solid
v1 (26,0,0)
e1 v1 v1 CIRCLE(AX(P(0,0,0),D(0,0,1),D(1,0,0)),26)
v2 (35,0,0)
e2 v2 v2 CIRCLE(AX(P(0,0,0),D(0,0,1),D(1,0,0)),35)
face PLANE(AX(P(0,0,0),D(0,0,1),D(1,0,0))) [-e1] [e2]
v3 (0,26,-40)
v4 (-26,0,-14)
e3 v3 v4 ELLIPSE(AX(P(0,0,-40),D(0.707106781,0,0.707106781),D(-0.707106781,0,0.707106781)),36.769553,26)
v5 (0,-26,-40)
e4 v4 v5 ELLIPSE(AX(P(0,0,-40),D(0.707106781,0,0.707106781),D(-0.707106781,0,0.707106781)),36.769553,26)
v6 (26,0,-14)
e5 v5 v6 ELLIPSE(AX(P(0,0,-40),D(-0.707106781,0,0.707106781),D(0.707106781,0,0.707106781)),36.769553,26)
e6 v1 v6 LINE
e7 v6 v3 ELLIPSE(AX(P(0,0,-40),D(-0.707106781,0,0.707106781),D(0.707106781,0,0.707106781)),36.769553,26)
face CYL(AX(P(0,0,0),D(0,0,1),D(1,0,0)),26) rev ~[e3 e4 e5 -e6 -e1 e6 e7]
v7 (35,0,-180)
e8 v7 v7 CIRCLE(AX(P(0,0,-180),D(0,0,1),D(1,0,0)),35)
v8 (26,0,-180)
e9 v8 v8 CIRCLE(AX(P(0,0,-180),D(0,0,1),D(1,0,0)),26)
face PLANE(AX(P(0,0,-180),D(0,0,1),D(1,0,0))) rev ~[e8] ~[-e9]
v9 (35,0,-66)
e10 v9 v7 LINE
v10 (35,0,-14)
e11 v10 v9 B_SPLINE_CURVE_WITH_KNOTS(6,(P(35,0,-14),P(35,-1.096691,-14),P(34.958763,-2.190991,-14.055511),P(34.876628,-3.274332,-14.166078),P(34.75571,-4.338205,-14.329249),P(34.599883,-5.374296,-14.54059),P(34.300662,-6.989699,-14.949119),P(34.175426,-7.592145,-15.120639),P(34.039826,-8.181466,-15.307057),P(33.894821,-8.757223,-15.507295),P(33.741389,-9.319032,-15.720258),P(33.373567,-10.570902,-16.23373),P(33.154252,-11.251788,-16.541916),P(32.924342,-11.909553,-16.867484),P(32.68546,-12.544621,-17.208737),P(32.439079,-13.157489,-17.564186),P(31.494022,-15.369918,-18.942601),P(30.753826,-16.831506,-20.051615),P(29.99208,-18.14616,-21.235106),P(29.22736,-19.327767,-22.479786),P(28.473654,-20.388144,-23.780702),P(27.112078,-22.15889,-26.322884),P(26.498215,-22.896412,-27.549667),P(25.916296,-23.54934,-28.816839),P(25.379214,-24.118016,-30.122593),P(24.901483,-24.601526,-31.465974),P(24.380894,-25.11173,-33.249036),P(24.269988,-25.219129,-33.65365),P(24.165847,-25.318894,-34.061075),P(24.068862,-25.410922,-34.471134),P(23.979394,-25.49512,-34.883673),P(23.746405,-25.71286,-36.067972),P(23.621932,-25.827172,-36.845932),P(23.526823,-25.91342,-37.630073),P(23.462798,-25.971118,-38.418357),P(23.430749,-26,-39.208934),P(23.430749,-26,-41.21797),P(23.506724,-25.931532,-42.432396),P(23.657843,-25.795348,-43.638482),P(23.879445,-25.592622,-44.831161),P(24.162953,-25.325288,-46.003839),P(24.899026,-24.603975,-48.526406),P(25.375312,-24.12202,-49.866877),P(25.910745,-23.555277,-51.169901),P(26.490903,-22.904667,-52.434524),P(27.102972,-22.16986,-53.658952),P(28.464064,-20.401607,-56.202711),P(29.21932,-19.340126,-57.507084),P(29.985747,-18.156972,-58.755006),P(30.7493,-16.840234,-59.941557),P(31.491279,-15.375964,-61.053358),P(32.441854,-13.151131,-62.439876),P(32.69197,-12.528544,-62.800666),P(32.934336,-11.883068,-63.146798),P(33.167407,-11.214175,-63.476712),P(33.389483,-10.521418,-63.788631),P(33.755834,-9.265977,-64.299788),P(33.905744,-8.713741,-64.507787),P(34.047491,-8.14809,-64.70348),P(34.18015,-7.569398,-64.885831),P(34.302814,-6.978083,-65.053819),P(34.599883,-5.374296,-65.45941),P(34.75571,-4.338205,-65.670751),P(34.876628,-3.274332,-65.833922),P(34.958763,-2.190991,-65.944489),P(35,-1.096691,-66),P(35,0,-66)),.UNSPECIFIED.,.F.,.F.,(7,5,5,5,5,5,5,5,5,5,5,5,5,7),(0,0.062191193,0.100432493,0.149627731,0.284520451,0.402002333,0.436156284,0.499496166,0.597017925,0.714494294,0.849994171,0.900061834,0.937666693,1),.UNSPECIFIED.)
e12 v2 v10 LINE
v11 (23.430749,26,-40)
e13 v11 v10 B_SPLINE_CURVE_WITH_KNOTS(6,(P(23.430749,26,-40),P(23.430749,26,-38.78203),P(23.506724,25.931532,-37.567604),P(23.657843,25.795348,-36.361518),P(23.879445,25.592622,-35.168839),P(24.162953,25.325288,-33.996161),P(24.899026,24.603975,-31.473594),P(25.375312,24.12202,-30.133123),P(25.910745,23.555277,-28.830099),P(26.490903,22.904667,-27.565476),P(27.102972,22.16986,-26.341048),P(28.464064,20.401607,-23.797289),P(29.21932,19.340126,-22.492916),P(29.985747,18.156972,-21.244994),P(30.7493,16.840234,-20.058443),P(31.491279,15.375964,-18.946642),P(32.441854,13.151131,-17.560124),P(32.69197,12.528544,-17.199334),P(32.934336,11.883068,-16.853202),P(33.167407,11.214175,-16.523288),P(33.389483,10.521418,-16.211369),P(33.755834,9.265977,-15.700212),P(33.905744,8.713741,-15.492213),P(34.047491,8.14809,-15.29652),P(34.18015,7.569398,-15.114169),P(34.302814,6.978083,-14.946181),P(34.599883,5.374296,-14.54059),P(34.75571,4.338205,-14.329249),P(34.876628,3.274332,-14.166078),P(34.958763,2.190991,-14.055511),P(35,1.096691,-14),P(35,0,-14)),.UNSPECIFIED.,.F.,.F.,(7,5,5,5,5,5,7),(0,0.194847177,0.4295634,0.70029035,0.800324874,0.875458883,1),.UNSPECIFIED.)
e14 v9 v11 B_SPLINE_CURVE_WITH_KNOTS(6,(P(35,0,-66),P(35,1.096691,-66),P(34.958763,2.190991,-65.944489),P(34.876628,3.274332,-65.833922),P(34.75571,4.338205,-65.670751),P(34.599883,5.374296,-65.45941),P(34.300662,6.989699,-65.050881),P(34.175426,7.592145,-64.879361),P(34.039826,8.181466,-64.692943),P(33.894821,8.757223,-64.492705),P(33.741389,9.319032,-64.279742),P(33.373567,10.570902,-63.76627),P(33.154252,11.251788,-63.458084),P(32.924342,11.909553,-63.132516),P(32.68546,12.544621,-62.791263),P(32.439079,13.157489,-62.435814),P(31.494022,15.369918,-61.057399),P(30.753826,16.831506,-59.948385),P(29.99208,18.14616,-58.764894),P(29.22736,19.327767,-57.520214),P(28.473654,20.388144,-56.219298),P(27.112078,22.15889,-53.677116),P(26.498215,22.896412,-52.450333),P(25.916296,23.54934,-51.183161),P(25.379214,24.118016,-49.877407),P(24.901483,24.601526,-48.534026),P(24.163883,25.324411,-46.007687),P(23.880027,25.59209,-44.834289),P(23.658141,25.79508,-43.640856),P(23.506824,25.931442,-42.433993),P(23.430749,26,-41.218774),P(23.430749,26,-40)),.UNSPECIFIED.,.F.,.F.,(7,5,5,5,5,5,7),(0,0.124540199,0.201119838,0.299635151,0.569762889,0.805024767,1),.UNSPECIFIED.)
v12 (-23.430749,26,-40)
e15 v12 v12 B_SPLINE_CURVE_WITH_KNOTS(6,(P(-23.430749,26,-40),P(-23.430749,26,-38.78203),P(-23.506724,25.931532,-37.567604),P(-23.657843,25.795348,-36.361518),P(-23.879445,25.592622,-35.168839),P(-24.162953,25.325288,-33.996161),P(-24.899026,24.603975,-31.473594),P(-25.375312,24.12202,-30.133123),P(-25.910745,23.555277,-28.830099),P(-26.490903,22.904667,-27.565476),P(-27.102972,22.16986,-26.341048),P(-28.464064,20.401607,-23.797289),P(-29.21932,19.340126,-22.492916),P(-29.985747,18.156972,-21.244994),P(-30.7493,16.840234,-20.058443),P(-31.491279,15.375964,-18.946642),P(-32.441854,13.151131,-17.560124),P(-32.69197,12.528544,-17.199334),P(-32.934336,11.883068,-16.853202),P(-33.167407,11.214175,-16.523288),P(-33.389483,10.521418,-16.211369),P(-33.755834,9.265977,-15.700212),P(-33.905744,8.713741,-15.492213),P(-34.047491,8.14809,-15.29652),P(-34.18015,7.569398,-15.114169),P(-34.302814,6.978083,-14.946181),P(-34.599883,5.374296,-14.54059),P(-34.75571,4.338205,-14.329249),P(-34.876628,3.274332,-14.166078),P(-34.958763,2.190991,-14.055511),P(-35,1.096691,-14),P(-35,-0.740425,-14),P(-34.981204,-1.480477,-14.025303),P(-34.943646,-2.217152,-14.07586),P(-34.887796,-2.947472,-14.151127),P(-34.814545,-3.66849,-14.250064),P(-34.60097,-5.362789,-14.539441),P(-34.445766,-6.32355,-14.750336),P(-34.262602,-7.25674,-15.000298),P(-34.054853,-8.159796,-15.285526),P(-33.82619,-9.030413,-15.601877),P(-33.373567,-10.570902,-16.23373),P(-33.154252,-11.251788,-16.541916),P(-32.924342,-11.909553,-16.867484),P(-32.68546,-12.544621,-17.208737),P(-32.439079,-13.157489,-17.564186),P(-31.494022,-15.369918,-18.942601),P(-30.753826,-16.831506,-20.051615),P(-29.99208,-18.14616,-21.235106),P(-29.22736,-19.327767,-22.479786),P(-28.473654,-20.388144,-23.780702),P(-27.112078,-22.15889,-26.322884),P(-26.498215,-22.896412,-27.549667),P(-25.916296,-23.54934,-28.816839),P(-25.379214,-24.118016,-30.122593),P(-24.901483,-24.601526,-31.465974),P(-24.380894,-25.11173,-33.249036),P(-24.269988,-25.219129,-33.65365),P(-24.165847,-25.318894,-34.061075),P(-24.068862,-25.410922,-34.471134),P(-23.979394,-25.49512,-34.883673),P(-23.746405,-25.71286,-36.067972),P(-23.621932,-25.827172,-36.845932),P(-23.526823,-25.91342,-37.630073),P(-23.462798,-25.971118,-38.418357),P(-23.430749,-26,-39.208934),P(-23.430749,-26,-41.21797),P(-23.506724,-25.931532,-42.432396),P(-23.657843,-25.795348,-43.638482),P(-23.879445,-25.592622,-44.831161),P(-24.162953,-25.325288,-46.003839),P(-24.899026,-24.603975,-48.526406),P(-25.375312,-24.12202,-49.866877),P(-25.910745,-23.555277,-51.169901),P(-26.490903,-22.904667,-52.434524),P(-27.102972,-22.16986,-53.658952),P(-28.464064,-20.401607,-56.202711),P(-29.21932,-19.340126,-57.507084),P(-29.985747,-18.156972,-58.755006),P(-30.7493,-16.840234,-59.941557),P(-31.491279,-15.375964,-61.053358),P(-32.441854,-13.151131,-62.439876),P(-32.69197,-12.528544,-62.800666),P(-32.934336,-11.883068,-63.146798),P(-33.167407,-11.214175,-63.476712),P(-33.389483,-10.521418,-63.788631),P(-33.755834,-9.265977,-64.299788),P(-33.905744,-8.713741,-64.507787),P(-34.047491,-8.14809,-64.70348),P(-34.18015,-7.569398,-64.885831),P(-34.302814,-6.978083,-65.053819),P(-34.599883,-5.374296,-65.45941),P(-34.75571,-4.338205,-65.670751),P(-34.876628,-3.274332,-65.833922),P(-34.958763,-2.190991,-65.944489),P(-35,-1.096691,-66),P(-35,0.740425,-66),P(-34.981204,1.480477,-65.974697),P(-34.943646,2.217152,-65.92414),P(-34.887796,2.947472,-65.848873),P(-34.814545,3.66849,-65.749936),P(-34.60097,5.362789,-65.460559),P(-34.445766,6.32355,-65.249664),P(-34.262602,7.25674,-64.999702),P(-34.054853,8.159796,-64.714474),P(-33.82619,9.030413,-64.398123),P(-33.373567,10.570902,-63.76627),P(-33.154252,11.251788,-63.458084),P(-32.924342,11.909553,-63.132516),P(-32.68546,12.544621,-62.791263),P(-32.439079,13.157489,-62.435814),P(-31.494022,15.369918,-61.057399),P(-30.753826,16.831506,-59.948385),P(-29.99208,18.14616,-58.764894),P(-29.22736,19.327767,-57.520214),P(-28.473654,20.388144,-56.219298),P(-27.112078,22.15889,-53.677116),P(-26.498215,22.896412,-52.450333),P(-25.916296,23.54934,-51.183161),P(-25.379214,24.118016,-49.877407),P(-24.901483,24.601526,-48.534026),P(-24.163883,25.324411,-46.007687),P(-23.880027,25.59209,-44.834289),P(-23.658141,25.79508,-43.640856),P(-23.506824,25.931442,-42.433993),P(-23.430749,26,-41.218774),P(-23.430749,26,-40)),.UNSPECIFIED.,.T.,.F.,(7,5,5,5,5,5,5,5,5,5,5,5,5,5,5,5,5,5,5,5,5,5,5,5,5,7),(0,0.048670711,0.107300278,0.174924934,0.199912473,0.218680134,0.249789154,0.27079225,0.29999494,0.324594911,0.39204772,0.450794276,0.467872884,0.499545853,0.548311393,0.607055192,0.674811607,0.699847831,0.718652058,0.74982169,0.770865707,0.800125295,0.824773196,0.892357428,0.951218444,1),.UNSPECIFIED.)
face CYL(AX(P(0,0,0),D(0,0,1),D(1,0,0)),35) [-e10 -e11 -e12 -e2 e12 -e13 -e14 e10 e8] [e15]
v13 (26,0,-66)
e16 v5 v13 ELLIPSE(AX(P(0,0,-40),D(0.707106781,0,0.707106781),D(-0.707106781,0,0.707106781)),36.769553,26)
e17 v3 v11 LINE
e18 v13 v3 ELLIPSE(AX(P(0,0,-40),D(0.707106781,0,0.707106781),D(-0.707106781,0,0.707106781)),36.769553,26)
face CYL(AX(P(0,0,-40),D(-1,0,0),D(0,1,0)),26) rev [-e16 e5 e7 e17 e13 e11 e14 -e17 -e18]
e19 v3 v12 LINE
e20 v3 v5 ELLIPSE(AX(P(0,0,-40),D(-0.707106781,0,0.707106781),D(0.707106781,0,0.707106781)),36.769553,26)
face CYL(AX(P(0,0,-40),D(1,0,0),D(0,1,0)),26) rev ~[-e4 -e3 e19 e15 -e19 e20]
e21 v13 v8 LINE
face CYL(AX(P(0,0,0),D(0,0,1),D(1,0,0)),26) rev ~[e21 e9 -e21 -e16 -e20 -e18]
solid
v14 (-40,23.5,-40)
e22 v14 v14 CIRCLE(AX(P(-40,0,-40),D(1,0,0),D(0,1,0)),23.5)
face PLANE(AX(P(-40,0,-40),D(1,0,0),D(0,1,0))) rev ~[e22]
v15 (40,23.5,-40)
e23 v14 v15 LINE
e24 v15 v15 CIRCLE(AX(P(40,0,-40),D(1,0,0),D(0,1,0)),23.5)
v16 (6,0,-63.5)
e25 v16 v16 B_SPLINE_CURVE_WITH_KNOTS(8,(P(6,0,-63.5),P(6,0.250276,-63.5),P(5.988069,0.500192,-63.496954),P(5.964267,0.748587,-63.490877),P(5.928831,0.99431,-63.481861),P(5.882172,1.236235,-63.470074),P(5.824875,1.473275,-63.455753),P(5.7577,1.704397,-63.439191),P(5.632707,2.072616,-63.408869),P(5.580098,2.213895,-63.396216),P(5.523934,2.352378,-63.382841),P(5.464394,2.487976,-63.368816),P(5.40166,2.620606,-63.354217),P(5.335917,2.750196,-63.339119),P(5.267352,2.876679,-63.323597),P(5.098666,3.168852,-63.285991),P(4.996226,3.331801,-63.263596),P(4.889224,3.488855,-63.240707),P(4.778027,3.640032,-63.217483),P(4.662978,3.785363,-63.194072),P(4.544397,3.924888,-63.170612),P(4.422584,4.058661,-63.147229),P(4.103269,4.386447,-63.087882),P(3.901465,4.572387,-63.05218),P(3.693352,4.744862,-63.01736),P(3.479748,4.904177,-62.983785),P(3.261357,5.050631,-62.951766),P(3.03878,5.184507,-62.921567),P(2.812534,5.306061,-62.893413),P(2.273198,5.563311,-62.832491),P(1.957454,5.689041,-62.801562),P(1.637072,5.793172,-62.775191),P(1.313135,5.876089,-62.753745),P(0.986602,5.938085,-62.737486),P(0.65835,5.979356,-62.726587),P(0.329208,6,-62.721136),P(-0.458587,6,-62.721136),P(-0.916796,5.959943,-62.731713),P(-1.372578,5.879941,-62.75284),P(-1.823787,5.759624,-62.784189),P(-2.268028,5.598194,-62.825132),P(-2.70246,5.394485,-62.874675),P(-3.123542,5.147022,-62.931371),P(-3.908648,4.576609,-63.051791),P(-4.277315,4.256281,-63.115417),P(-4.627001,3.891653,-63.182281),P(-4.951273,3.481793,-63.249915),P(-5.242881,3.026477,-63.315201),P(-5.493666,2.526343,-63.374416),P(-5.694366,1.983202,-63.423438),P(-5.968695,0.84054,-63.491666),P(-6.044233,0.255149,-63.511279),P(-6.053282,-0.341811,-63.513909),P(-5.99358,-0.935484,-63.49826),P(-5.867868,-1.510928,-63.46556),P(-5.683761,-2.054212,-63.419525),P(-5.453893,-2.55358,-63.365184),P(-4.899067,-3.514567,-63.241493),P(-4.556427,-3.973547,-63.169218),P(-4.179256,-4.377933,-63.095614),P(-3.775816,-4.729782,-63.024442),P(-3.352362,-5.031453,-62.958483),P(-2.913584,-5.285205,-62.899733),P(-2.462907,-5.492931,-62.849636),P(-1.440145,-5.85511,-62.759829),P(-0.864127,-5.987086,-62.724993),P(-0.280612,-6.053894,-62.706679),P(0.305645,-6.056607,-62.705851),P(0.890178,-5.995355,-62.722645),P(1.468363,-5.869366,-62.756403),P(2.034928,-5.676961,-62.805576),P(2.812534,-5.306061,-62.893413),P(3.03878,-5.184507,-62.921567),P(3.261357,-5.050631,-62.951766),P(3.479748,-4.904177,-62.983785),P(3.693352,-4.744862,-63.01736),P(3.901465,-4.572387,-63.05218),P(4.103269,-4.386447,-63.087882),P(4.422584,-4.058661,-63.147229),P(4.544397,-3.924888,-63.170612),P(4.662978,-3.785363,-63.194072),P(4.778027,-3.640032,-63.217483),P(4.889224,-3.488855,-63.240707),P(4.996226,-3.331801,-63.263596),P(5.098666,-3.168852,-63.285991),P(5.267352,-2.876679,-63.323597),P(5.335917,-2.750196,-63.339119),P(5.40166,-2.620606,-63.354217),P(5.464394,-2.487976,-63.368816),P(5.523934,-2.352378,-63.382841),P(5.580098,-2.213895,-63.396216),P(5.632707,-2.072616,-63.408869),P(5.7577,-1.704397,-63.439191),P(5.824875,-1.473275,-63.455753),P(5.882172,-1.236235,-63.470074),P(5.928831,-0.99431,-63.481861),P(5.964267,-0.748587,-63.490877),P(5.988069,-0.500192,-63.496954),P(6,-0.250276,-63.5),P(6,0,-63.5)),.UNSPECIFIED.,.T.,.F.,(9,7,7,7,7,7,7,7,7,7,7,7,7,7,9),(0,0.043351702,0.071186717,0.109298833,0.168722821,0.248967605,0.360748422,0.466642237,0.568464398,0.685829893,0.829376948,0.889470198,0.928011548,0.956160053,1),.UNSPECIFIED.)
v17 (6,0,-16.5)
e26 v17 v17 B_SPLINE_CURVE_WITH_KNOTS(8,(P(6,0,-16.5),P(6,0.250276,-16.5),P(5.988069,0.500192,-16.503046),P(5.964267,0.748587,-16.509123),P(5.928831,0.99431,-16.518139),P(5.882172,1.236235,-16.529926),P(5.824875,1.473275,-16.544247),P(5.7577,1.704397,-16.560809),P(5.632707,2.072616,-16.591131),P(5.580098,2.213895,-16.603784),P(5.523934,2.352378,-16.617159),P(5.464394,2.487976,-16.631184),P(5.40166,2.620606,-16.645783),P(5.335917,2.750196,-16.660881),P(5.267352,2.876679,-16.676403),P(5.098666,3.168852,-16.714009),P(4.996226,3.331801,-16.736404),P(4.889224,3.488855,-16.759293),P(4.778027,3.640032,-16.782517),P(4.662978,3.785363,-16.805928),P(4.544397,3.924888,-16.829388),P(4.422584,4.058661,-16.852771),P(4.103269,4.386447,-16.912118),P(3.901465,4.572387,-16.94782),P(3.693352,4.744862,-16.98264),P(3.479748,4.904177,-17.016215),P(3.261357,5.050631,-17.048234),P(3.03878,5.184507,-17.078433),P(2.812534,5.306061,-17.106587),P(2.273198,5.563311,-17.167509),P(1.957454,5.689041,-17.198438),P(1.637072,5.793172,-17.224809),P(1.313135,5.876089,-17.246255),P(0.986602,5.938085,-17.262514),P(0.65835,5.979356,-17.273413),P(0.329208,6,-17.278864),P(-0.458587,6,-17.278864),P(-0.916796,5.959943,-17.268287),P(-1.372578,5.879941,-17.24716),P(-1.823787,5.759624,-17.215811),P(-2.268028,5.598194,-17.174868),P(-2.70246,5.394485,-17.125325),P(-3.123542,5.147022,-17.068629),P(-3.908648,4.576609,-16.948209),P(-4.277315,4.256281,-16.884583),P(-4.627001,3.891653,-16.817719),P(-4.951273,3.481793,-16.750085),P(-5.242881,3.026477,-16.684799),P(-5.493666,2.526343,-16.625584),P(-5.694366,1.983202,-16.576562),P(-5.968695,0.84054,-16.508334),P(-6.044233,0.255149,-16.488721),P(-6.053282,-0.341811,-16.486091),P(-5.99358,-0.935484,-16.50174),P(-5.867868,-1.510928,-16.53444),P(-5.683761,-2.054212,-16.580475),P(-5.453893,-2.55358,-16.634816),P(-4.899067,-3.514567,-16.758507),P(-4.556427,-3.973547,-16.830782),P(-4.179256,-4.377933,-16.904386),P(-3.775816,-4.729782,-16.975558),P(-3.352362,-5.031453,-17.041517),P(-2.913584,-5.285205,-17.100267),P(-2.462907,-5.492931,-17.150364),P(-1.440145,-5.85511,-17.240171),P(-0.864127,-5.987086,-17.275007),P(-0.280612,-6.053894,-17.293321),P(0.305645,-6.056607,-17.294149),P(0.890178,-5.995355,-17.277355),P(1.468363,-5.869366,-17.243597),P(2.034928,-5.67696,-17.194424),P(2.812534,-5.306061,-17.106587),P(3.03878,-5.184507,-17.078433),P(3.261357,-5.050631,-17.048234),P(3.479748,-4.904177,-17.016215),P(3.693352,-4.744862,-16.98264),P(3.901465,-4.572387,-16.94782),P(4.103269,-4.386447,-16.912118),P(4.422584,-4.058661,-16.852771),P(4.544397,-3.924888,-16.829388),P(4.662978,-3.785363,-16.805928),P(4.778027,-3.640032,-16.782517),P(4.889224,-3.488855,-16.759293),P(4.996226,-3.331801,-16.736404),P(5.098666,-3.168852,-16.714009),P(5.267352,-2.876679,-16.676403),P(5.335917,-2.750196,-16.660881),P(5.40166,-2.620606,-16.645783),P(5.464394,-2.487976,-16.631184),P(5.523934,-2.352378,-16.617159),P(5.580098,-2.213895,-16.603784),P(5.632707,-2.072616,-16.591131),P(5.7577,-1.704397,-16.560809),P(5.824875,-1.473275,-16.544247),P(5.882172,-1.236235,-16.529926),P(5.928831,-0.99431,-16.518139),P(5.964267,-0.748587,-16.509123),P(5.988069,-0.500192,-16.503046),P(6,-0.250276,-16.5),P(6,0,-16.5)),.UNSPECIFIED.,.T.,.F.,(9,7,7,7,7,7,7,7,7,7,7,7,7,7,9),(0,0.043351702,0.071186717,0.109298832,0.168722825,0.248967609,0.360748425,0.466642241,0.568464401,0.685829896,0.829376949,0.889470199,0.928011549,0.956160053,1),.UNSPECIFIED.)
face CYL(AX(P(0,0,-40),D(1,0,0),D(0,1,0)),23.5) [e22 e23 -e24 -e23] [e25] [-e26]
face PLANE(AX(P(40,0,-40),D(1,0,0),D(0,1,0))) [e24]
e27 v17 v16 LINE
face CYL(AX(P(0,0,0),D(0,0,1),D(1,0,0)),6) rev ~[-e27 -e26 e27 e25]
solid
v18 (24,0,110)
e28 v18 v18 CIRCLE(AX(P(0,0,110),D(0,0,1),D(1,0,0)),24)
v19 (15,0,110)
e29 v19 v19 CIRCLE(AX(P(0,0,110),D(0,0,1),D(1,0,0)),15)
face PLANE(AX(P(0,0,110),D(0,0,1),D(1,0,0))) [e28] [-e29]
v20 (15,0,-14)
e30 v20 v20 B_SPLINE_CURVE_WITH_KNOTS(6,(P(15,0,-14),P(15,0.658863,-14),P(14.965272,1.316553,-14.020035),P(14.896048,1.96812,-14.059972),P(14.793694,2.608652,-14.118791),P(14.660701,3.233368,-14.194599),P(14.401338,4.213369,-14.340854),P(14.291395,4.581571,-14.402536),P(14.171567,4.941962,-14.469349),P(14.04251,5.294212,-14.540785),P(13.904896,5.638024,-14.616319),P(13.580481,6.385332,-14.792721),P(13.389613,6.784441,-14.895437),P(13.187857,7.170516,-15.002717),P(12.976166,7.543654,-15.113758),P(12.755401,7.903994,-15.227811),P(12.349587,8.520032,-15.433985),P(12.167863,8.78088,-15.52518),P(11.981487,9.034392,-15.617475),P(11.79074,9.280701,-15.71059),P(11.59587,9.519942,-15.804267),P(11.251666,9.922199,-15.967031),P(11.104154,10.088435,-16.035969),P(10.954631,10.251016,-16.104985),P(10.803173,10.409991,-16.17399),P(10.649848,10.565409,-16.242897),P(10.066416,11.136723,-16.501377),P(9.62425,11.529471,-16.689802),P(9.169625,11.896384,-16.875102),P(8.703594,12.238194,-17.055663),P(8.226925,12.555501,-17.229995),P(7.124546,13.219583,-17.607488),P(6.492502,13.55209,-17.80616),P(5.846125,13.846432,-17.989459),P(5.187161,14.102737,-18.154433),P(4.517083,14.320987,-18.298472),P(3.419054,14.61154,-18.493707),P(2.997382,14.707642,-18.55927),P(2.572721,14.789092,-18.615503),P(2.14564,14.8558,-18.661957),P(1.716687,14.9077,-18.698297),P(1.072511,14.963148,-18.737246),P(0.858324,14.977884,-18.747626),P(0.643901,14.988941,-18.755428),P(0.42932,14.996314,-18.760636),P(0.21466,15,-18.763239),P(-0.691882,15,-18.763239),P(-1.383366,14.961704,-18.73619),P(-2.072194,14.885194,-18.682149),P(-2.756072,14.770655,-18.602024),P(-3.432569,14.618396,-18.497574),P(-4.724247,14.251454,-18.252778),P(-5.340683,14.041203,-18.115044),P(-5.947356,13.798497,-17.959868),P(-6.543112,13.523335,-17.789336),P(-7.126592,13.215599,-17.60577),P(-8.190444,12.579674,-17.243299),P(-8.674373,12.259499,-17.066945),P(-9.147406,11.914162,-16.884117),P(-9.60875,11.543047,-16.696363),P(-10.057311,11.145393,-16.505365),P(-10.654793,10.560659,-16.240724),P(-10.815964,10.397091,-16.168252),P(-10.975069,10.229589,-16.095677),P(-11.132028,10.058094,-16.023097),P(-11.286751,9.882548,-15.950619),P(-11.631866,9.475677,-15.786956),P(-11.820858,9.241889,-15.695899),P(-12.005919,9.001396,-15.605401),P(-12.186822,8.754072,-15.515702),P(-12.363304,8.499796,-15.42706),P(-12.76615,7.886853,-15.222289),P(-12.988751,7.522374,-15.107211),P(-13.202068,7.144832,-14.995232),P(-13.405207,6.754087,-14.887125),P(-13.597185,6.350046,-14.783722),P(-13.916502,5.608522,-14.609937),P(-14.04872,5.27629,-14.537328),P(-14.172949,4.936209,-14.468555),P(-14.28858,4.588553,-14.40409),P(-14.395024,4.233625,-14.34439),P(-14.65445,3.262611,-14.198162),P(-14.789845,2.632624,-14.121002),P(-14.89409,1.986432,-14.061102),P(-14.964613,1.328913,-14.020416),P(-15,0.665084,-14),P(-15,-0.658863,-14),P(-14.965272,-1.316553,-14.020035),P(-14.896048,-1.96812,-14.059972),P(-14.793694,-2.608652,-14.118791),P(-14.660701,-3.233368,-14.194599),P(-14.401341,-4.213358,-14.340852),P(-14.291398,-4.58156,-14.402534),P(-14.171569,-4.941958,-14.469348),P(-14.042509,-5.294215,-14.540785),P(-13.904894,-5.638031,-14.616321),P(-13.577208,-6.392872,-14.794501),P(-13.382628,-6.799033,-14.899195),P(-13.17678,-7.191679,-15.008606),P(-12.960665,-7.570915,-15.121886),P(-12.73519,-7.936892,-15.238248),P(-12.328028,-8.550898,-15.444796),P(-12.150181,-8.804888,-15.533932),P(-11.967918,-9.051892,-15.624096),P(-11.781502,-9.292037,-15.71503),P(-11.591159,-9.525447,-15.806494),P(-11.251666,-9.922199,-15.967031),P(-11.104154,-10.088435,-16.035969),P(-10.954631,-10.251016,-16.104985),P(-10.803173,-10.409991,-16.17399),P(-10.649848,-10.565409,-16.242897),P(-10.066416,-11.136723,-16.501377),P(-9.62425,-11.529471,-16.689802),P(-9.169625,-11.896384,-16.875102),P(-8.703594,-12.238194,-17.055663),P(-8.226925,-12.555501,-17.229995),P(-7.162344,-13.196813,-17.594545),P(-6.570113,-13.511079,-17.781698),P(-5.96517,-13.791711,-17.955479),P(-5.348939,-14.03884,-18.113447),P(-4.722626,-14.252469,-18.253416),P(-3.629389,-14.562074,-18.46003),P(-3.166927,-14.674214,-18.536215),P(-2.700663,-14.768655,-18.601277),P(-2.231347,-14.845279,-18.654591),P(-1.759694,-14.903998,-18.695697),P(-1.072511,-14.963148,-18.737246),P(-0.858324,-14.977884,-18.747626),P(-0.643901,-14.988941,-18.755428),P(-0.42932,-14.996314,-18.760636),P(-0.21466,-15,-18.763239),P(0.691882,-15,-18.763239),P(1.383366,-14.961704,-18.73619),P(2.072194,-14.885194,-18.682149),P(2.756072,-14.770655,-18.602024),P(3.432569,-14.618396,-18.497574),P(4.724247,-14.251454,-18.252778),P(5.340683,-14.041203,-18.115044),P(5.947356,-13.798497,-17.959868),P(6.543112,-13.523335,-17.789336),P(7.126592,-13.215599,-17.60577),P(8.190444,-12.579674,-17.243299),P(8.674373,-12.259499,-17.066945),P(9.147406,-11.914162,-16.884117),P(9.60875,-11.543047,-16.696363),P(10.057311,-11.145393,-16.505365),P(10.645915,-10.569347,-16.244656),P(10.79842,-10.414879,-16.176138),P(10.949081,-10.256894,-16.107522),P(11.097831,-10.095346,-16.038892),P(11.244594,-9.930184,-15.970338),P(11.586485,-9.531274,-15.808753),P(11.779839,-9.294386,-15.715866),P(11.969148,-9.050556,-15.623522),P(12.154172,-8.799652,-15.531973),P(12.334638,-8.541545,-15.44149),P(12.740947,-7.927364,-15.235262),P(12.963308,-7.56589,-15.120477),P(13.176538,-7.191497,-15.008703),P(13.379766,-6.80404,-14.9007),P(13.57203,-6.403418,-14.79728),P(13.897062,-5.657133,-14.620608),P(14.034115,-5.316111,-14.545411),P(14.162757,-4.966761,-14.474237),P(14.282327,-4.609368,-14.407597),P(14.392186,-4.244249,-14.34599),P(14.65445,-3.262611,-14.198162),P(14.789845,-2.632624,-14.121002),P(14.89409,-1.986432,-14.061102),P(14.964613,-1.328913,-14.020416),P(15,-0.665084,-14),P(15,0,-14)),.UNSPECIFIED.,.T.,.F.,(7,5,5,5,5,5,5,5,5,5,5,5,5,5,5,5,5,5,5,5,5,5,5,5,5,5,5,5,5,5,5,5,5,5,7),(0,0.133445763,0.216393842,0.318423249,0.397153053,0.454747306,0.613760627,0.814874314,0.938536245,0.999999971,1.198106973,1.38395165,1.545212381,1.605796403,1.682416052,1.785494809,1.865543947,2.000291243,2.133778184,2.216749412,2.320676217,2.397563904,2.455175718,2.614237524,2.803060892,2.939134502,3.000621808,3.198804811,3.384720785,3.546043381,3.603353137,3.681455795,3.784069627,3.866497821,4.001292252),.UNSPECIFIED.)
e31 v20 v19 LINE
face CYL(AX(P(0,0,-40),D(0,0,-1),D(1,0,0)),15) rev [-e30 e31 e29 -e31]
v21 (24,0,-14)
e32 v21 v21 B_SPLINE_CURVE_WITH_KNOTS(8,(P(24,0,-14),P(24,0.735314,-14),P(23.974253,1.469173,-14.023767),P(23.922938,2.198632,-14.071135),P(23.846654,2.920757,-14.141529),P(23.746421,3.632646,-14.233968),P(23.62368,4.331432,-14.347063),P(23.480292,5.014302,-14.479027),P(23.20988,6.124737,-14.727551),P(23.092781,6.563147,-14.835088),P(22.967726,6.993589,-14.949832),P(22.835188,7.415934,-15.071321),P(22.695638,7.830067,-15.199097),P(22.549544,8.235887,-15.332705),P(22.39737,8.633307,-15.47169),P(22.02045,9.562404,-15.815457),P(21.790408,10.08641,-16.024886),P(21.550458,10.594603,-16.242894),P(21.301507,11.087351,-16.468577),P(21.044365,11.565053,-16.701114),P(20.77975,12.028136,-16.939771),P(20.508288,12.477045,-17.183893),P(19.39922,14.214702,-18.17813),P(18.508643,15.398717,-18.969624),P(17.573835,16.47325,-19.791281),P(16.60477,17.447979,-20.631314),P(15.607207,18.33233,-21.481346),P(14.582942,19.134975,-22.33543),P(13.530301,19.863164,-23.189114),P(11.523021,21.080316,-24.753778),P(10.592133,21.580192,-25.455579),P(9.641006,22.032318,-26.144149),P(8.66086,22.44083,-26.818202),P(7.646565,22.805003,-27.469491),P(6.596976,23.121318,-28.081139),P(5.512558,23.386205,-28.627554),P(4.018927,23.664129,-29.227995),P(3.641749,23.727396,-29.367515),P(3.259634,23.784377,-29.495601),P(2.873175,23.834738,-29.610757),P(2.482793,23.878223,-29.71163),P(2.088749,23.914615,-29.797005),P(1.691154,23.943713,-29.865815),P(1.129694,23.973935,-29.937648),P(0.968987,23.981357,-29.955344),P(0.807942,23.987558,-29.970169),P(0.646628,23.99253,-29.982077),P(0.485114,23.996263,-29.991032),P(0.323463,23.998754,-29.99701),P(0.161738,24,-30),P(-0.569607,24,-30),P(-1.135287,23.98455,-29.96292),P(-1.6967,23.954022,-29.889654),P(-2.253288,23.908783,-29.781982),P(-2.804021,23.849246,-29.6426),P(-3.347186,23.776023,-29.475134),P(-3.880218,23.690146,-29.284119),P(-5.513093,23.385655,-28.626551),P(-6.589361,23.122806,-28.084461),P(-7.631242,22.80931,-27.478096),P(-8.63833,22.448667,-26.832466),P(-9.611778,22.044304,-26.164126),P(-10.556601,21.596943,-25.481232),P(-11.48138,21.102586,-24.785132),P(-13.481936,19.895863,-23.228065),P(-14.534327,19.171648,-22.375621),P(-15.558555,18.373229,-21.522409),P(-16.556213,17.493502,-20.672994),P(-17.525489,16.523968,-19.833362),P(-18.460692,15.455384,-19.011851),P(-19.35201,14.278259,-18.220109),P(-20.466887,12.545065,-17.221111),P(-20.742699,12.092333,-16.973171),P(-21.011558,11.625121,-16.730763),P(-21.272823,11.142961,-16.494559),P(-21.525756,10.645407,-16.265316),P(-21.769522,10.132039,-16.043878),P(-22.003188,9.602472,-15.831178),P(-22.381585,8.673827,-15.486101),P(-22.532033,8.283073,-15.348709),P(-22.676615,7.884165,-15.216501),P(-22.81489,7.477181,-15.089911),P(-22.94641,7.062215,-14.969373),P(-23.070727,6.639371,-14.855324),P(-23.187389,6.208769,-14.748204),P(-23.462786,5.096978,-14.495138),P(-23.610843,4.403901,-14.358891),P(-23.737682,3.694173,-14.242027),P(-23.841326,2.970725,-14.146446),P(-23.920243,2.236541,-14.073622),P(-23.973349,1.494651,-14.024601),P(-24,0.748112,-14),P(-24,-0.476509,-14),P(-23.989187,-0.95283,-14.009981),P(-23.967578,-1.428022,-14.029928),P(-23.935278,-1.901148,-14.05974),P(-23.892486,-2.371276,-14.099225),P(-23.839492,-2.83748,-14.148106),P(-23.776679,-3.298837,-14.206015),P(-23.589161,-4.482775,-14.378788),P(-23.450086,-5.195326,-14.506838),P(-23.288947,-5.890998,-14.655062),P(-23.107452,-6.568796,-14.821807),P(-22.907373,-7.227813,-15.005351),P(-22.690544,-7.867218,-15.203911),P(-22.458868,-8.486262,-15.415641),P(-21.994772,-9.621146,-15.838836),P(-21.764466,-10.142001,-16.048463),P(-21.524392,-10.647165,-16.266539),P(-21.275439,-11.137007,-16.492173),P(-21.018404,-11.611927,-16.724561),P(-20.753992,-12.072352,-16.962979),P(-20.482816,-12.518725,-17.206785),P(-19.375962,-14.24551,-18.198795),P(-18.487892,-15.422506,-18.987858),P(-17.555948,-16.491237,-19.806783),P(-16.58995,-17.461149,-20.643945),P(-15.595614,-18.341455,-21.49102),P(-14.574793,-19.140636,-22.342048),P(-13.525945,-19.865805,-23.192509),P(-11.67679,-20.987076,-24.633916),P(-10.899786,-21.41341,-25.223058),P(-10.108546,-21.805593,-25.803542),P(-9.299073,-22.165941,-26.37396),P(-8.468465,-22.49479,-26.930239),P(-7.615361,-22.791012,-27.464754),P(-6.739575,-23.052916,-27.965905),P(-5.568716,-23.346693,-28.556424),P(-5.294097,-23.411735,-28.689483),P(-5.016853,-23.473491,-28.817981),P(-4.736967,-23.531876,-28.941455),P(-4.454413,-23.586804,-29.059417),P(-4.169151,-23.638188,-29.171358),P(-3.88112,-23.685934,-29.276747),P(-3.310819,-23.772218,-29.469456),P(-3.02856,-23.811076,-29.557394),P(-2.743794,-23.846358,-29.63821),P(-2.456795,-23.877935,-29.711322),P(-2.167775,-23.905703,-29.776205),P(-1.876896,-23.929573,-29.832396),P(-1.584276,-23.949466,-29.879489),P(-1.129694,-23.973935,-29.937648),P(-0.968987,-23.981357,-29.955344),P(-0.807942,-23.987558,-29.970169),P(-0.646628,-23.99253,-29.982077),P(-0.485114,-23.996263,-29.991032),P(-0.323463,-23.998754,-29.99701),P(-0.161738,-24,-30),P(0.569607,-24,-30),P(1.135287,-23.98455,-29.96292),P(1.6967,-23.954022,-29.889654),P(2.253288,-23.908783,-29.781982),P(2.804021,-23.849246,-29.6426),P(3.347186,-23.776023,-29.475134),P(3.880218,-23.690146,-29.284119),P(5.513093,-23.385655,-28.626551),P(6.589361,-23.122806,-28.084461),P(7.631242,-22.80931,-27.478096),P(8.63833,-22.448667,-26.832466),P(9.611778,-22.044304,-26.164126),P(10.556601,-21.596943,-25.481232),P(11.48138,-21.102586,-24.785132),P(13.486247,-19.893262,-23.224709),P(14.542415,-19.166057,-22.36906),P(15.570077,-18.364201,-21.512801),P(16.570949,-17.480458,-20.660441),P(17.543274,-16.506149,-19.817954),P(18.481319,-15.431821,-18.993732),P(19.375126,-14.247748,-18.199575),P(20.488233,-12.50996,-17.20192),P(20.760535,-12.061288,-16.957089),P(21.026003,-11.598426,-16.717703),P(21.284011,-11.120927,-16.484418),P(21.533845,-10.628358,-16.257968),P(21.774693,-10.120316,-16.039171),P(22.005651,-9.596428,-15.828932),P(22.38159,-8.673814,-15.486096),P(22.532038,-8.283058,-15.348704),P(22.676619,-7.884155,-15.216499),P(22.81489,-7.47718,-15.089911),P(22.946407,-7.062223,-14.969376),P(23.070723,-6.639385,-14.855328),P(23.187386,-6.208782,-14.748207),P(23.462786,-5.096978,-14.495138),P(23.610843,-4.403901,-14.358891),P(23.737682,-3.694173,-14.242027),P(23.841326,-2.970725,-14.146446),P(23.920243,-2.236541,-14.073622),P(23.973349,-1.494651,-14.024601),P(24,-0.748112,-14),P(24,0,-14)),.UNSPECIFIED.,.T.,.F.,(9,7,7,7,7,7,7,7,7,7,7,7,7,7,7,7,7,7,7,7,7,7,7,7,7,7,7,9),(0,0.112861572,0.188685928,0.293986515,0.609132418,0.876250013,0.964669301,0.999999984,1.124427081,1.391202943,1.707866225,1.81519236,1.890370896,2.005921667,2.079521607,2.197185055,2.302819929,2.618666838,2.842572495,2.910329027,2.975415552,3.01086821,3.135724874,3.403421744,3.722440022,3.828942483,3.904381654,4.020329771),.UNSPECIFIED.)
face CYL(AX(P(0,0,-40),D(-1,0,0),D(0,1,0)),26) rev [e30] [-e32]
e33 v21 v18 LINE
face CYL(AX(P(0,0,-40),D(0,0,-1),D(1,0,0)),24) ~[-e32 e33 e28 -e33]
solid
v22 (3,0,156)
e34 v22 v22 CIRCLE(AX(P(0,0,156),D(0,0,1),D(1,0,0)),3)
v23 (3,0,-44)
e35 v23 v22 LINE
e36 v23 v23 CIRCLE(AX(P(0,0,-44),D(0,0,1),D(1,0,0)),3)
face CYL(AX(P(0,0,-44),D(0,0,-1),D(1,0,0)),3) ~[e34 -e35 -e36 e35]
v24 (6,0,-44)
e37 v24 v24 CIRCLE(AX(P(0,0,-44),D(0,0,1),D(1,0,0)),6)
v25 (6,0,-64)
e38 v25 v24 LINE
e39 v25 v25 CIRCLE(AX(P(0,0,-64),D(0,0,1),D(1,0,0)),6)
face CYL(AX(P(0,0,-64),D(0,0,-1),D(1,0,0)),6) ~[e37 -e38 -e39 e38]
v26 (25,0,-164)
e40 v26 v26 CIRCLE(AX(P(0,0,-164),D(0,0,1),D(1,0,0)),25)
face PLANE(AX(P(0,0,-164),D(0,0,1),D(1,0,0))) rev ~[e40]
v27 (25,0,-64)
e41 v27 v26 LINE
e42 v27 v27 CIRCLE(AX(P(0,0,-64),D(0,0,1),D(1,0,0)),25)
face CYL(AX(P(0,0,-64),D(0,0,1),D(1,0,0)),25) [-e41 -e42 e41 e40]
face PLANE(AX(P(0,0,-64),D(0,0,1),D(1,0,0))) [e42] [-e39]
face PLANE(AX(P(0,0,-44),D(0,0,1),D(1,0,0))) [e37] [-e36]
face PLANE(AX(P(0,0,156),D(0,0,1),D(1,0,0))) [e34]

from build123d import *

# Parameters (mm, degrees)
F0_R           = 35
F0_R_2         = 26
F1_DEPTH       = 180
F3_R           = 24
F3_R_2         = 15
F4_DEPTH       = 150
F5_R           = 26
F6_DEPTH       = 35.001
F6_DEPTH_BACK  = 35.001
F7_R           = 23.5
F8_DEPTH       = 40
F8_DEPTH_BACK  = 40
F9_R           = 6
F10_DEPTH      = 110.0010001
F10_DEPTH_BACK = 180.0010001
F12_R          = 25
F13_DEPTH      = 100
F14_R          = 6
F15_DEPTH      = 20
F16_R          = 3
F17_DEPTH      = 200


with BuildPart() as f1:
    # F0 (on Top) → F1 (new body)
    with BuildSketch(Plane.XY):
        Circle(F0_R)
        Circle(F0_R_2, mode=Mode.SUBTRACT)
    extrude(amount=-F1_DEPTH)


with BuildPart() as f4:
    # F3 (on offset) → F4 (new body)
    with BuildSketch(Plane.XY.offset(-40)):
        Circle(F3_R)
        Circle(F3_R_2, mode=Mode.SUBTRACT)
    extrude(amount=F4_DEPTH)


with BuildPart() as f6_tool:
    # F5 (on Right) → F6 (new body, two sides)
    with BuildSketch(Plane.YZ) as f6_sk:
        with Locations((0, -40)):
            Circle(F5_R)
    extrude(amount=-F6_DEPTH)
    extrude(f6_sk.sketch, amount=F6_DEPTH_BACK)


with BuildPart() as f1_1:
    add(f1.part)

    # F6: cut by f6_tool
    add(f6_tool.part, mode=Mode.SUBTRACT)


with BuildPart() as f4_1:
    add(f4.part)

    # F6: cut by f6_tool
    add(f6_tool.part, mode=Mode.SUBTRACT)


with BuildPart() as f8:
    # F7 (on Right) → F8 (new body, two sides)
    with BuildSketch(Plane.YZ) as f8_sk:
        with Locations((0, -40)):
            Circle(F7_R)
    extrude(amount=F8_DEPTH)
    extrude(f8_sk.sketch, amount=-F8_DEPTH_BACK)

    # F9 (on Top) → F10 (cut, two sides)
    with BuildSketch(Plane.XY) as f10_sk:
        Circle(F9_R)
    extrude(amount=F10_DEPTH, mode=Mode.SUBTRACT)
    extrude(f10_sk.sketch, amount=-F10_DEPTH_BACK, mode=Mode.SUBTRACT)


with BuildPart() as f13:
    # F12 (on offset) → F13 (new body)
    with BuildSketch(Plane.XY.offset(-64)):
        Circle(F12_R)
    extrude(amount=-F13_DEPTH)

    # F14 (on face) → F15 (join)
    with BuildSketch(Plane.XY.offset(-64)):
        Circle(F14_R)
    extrude(amount=F15_DEPTH)

    # F16 (on face) → F17 (join)
    with BuildSketch(Plane.XY.offset(-44)):
        Circle(F16_R)
    extrude(amount=F17_DEPTH)


solid = Compound([f1_1.part, f4_1.part, f8.part, f13.part])
